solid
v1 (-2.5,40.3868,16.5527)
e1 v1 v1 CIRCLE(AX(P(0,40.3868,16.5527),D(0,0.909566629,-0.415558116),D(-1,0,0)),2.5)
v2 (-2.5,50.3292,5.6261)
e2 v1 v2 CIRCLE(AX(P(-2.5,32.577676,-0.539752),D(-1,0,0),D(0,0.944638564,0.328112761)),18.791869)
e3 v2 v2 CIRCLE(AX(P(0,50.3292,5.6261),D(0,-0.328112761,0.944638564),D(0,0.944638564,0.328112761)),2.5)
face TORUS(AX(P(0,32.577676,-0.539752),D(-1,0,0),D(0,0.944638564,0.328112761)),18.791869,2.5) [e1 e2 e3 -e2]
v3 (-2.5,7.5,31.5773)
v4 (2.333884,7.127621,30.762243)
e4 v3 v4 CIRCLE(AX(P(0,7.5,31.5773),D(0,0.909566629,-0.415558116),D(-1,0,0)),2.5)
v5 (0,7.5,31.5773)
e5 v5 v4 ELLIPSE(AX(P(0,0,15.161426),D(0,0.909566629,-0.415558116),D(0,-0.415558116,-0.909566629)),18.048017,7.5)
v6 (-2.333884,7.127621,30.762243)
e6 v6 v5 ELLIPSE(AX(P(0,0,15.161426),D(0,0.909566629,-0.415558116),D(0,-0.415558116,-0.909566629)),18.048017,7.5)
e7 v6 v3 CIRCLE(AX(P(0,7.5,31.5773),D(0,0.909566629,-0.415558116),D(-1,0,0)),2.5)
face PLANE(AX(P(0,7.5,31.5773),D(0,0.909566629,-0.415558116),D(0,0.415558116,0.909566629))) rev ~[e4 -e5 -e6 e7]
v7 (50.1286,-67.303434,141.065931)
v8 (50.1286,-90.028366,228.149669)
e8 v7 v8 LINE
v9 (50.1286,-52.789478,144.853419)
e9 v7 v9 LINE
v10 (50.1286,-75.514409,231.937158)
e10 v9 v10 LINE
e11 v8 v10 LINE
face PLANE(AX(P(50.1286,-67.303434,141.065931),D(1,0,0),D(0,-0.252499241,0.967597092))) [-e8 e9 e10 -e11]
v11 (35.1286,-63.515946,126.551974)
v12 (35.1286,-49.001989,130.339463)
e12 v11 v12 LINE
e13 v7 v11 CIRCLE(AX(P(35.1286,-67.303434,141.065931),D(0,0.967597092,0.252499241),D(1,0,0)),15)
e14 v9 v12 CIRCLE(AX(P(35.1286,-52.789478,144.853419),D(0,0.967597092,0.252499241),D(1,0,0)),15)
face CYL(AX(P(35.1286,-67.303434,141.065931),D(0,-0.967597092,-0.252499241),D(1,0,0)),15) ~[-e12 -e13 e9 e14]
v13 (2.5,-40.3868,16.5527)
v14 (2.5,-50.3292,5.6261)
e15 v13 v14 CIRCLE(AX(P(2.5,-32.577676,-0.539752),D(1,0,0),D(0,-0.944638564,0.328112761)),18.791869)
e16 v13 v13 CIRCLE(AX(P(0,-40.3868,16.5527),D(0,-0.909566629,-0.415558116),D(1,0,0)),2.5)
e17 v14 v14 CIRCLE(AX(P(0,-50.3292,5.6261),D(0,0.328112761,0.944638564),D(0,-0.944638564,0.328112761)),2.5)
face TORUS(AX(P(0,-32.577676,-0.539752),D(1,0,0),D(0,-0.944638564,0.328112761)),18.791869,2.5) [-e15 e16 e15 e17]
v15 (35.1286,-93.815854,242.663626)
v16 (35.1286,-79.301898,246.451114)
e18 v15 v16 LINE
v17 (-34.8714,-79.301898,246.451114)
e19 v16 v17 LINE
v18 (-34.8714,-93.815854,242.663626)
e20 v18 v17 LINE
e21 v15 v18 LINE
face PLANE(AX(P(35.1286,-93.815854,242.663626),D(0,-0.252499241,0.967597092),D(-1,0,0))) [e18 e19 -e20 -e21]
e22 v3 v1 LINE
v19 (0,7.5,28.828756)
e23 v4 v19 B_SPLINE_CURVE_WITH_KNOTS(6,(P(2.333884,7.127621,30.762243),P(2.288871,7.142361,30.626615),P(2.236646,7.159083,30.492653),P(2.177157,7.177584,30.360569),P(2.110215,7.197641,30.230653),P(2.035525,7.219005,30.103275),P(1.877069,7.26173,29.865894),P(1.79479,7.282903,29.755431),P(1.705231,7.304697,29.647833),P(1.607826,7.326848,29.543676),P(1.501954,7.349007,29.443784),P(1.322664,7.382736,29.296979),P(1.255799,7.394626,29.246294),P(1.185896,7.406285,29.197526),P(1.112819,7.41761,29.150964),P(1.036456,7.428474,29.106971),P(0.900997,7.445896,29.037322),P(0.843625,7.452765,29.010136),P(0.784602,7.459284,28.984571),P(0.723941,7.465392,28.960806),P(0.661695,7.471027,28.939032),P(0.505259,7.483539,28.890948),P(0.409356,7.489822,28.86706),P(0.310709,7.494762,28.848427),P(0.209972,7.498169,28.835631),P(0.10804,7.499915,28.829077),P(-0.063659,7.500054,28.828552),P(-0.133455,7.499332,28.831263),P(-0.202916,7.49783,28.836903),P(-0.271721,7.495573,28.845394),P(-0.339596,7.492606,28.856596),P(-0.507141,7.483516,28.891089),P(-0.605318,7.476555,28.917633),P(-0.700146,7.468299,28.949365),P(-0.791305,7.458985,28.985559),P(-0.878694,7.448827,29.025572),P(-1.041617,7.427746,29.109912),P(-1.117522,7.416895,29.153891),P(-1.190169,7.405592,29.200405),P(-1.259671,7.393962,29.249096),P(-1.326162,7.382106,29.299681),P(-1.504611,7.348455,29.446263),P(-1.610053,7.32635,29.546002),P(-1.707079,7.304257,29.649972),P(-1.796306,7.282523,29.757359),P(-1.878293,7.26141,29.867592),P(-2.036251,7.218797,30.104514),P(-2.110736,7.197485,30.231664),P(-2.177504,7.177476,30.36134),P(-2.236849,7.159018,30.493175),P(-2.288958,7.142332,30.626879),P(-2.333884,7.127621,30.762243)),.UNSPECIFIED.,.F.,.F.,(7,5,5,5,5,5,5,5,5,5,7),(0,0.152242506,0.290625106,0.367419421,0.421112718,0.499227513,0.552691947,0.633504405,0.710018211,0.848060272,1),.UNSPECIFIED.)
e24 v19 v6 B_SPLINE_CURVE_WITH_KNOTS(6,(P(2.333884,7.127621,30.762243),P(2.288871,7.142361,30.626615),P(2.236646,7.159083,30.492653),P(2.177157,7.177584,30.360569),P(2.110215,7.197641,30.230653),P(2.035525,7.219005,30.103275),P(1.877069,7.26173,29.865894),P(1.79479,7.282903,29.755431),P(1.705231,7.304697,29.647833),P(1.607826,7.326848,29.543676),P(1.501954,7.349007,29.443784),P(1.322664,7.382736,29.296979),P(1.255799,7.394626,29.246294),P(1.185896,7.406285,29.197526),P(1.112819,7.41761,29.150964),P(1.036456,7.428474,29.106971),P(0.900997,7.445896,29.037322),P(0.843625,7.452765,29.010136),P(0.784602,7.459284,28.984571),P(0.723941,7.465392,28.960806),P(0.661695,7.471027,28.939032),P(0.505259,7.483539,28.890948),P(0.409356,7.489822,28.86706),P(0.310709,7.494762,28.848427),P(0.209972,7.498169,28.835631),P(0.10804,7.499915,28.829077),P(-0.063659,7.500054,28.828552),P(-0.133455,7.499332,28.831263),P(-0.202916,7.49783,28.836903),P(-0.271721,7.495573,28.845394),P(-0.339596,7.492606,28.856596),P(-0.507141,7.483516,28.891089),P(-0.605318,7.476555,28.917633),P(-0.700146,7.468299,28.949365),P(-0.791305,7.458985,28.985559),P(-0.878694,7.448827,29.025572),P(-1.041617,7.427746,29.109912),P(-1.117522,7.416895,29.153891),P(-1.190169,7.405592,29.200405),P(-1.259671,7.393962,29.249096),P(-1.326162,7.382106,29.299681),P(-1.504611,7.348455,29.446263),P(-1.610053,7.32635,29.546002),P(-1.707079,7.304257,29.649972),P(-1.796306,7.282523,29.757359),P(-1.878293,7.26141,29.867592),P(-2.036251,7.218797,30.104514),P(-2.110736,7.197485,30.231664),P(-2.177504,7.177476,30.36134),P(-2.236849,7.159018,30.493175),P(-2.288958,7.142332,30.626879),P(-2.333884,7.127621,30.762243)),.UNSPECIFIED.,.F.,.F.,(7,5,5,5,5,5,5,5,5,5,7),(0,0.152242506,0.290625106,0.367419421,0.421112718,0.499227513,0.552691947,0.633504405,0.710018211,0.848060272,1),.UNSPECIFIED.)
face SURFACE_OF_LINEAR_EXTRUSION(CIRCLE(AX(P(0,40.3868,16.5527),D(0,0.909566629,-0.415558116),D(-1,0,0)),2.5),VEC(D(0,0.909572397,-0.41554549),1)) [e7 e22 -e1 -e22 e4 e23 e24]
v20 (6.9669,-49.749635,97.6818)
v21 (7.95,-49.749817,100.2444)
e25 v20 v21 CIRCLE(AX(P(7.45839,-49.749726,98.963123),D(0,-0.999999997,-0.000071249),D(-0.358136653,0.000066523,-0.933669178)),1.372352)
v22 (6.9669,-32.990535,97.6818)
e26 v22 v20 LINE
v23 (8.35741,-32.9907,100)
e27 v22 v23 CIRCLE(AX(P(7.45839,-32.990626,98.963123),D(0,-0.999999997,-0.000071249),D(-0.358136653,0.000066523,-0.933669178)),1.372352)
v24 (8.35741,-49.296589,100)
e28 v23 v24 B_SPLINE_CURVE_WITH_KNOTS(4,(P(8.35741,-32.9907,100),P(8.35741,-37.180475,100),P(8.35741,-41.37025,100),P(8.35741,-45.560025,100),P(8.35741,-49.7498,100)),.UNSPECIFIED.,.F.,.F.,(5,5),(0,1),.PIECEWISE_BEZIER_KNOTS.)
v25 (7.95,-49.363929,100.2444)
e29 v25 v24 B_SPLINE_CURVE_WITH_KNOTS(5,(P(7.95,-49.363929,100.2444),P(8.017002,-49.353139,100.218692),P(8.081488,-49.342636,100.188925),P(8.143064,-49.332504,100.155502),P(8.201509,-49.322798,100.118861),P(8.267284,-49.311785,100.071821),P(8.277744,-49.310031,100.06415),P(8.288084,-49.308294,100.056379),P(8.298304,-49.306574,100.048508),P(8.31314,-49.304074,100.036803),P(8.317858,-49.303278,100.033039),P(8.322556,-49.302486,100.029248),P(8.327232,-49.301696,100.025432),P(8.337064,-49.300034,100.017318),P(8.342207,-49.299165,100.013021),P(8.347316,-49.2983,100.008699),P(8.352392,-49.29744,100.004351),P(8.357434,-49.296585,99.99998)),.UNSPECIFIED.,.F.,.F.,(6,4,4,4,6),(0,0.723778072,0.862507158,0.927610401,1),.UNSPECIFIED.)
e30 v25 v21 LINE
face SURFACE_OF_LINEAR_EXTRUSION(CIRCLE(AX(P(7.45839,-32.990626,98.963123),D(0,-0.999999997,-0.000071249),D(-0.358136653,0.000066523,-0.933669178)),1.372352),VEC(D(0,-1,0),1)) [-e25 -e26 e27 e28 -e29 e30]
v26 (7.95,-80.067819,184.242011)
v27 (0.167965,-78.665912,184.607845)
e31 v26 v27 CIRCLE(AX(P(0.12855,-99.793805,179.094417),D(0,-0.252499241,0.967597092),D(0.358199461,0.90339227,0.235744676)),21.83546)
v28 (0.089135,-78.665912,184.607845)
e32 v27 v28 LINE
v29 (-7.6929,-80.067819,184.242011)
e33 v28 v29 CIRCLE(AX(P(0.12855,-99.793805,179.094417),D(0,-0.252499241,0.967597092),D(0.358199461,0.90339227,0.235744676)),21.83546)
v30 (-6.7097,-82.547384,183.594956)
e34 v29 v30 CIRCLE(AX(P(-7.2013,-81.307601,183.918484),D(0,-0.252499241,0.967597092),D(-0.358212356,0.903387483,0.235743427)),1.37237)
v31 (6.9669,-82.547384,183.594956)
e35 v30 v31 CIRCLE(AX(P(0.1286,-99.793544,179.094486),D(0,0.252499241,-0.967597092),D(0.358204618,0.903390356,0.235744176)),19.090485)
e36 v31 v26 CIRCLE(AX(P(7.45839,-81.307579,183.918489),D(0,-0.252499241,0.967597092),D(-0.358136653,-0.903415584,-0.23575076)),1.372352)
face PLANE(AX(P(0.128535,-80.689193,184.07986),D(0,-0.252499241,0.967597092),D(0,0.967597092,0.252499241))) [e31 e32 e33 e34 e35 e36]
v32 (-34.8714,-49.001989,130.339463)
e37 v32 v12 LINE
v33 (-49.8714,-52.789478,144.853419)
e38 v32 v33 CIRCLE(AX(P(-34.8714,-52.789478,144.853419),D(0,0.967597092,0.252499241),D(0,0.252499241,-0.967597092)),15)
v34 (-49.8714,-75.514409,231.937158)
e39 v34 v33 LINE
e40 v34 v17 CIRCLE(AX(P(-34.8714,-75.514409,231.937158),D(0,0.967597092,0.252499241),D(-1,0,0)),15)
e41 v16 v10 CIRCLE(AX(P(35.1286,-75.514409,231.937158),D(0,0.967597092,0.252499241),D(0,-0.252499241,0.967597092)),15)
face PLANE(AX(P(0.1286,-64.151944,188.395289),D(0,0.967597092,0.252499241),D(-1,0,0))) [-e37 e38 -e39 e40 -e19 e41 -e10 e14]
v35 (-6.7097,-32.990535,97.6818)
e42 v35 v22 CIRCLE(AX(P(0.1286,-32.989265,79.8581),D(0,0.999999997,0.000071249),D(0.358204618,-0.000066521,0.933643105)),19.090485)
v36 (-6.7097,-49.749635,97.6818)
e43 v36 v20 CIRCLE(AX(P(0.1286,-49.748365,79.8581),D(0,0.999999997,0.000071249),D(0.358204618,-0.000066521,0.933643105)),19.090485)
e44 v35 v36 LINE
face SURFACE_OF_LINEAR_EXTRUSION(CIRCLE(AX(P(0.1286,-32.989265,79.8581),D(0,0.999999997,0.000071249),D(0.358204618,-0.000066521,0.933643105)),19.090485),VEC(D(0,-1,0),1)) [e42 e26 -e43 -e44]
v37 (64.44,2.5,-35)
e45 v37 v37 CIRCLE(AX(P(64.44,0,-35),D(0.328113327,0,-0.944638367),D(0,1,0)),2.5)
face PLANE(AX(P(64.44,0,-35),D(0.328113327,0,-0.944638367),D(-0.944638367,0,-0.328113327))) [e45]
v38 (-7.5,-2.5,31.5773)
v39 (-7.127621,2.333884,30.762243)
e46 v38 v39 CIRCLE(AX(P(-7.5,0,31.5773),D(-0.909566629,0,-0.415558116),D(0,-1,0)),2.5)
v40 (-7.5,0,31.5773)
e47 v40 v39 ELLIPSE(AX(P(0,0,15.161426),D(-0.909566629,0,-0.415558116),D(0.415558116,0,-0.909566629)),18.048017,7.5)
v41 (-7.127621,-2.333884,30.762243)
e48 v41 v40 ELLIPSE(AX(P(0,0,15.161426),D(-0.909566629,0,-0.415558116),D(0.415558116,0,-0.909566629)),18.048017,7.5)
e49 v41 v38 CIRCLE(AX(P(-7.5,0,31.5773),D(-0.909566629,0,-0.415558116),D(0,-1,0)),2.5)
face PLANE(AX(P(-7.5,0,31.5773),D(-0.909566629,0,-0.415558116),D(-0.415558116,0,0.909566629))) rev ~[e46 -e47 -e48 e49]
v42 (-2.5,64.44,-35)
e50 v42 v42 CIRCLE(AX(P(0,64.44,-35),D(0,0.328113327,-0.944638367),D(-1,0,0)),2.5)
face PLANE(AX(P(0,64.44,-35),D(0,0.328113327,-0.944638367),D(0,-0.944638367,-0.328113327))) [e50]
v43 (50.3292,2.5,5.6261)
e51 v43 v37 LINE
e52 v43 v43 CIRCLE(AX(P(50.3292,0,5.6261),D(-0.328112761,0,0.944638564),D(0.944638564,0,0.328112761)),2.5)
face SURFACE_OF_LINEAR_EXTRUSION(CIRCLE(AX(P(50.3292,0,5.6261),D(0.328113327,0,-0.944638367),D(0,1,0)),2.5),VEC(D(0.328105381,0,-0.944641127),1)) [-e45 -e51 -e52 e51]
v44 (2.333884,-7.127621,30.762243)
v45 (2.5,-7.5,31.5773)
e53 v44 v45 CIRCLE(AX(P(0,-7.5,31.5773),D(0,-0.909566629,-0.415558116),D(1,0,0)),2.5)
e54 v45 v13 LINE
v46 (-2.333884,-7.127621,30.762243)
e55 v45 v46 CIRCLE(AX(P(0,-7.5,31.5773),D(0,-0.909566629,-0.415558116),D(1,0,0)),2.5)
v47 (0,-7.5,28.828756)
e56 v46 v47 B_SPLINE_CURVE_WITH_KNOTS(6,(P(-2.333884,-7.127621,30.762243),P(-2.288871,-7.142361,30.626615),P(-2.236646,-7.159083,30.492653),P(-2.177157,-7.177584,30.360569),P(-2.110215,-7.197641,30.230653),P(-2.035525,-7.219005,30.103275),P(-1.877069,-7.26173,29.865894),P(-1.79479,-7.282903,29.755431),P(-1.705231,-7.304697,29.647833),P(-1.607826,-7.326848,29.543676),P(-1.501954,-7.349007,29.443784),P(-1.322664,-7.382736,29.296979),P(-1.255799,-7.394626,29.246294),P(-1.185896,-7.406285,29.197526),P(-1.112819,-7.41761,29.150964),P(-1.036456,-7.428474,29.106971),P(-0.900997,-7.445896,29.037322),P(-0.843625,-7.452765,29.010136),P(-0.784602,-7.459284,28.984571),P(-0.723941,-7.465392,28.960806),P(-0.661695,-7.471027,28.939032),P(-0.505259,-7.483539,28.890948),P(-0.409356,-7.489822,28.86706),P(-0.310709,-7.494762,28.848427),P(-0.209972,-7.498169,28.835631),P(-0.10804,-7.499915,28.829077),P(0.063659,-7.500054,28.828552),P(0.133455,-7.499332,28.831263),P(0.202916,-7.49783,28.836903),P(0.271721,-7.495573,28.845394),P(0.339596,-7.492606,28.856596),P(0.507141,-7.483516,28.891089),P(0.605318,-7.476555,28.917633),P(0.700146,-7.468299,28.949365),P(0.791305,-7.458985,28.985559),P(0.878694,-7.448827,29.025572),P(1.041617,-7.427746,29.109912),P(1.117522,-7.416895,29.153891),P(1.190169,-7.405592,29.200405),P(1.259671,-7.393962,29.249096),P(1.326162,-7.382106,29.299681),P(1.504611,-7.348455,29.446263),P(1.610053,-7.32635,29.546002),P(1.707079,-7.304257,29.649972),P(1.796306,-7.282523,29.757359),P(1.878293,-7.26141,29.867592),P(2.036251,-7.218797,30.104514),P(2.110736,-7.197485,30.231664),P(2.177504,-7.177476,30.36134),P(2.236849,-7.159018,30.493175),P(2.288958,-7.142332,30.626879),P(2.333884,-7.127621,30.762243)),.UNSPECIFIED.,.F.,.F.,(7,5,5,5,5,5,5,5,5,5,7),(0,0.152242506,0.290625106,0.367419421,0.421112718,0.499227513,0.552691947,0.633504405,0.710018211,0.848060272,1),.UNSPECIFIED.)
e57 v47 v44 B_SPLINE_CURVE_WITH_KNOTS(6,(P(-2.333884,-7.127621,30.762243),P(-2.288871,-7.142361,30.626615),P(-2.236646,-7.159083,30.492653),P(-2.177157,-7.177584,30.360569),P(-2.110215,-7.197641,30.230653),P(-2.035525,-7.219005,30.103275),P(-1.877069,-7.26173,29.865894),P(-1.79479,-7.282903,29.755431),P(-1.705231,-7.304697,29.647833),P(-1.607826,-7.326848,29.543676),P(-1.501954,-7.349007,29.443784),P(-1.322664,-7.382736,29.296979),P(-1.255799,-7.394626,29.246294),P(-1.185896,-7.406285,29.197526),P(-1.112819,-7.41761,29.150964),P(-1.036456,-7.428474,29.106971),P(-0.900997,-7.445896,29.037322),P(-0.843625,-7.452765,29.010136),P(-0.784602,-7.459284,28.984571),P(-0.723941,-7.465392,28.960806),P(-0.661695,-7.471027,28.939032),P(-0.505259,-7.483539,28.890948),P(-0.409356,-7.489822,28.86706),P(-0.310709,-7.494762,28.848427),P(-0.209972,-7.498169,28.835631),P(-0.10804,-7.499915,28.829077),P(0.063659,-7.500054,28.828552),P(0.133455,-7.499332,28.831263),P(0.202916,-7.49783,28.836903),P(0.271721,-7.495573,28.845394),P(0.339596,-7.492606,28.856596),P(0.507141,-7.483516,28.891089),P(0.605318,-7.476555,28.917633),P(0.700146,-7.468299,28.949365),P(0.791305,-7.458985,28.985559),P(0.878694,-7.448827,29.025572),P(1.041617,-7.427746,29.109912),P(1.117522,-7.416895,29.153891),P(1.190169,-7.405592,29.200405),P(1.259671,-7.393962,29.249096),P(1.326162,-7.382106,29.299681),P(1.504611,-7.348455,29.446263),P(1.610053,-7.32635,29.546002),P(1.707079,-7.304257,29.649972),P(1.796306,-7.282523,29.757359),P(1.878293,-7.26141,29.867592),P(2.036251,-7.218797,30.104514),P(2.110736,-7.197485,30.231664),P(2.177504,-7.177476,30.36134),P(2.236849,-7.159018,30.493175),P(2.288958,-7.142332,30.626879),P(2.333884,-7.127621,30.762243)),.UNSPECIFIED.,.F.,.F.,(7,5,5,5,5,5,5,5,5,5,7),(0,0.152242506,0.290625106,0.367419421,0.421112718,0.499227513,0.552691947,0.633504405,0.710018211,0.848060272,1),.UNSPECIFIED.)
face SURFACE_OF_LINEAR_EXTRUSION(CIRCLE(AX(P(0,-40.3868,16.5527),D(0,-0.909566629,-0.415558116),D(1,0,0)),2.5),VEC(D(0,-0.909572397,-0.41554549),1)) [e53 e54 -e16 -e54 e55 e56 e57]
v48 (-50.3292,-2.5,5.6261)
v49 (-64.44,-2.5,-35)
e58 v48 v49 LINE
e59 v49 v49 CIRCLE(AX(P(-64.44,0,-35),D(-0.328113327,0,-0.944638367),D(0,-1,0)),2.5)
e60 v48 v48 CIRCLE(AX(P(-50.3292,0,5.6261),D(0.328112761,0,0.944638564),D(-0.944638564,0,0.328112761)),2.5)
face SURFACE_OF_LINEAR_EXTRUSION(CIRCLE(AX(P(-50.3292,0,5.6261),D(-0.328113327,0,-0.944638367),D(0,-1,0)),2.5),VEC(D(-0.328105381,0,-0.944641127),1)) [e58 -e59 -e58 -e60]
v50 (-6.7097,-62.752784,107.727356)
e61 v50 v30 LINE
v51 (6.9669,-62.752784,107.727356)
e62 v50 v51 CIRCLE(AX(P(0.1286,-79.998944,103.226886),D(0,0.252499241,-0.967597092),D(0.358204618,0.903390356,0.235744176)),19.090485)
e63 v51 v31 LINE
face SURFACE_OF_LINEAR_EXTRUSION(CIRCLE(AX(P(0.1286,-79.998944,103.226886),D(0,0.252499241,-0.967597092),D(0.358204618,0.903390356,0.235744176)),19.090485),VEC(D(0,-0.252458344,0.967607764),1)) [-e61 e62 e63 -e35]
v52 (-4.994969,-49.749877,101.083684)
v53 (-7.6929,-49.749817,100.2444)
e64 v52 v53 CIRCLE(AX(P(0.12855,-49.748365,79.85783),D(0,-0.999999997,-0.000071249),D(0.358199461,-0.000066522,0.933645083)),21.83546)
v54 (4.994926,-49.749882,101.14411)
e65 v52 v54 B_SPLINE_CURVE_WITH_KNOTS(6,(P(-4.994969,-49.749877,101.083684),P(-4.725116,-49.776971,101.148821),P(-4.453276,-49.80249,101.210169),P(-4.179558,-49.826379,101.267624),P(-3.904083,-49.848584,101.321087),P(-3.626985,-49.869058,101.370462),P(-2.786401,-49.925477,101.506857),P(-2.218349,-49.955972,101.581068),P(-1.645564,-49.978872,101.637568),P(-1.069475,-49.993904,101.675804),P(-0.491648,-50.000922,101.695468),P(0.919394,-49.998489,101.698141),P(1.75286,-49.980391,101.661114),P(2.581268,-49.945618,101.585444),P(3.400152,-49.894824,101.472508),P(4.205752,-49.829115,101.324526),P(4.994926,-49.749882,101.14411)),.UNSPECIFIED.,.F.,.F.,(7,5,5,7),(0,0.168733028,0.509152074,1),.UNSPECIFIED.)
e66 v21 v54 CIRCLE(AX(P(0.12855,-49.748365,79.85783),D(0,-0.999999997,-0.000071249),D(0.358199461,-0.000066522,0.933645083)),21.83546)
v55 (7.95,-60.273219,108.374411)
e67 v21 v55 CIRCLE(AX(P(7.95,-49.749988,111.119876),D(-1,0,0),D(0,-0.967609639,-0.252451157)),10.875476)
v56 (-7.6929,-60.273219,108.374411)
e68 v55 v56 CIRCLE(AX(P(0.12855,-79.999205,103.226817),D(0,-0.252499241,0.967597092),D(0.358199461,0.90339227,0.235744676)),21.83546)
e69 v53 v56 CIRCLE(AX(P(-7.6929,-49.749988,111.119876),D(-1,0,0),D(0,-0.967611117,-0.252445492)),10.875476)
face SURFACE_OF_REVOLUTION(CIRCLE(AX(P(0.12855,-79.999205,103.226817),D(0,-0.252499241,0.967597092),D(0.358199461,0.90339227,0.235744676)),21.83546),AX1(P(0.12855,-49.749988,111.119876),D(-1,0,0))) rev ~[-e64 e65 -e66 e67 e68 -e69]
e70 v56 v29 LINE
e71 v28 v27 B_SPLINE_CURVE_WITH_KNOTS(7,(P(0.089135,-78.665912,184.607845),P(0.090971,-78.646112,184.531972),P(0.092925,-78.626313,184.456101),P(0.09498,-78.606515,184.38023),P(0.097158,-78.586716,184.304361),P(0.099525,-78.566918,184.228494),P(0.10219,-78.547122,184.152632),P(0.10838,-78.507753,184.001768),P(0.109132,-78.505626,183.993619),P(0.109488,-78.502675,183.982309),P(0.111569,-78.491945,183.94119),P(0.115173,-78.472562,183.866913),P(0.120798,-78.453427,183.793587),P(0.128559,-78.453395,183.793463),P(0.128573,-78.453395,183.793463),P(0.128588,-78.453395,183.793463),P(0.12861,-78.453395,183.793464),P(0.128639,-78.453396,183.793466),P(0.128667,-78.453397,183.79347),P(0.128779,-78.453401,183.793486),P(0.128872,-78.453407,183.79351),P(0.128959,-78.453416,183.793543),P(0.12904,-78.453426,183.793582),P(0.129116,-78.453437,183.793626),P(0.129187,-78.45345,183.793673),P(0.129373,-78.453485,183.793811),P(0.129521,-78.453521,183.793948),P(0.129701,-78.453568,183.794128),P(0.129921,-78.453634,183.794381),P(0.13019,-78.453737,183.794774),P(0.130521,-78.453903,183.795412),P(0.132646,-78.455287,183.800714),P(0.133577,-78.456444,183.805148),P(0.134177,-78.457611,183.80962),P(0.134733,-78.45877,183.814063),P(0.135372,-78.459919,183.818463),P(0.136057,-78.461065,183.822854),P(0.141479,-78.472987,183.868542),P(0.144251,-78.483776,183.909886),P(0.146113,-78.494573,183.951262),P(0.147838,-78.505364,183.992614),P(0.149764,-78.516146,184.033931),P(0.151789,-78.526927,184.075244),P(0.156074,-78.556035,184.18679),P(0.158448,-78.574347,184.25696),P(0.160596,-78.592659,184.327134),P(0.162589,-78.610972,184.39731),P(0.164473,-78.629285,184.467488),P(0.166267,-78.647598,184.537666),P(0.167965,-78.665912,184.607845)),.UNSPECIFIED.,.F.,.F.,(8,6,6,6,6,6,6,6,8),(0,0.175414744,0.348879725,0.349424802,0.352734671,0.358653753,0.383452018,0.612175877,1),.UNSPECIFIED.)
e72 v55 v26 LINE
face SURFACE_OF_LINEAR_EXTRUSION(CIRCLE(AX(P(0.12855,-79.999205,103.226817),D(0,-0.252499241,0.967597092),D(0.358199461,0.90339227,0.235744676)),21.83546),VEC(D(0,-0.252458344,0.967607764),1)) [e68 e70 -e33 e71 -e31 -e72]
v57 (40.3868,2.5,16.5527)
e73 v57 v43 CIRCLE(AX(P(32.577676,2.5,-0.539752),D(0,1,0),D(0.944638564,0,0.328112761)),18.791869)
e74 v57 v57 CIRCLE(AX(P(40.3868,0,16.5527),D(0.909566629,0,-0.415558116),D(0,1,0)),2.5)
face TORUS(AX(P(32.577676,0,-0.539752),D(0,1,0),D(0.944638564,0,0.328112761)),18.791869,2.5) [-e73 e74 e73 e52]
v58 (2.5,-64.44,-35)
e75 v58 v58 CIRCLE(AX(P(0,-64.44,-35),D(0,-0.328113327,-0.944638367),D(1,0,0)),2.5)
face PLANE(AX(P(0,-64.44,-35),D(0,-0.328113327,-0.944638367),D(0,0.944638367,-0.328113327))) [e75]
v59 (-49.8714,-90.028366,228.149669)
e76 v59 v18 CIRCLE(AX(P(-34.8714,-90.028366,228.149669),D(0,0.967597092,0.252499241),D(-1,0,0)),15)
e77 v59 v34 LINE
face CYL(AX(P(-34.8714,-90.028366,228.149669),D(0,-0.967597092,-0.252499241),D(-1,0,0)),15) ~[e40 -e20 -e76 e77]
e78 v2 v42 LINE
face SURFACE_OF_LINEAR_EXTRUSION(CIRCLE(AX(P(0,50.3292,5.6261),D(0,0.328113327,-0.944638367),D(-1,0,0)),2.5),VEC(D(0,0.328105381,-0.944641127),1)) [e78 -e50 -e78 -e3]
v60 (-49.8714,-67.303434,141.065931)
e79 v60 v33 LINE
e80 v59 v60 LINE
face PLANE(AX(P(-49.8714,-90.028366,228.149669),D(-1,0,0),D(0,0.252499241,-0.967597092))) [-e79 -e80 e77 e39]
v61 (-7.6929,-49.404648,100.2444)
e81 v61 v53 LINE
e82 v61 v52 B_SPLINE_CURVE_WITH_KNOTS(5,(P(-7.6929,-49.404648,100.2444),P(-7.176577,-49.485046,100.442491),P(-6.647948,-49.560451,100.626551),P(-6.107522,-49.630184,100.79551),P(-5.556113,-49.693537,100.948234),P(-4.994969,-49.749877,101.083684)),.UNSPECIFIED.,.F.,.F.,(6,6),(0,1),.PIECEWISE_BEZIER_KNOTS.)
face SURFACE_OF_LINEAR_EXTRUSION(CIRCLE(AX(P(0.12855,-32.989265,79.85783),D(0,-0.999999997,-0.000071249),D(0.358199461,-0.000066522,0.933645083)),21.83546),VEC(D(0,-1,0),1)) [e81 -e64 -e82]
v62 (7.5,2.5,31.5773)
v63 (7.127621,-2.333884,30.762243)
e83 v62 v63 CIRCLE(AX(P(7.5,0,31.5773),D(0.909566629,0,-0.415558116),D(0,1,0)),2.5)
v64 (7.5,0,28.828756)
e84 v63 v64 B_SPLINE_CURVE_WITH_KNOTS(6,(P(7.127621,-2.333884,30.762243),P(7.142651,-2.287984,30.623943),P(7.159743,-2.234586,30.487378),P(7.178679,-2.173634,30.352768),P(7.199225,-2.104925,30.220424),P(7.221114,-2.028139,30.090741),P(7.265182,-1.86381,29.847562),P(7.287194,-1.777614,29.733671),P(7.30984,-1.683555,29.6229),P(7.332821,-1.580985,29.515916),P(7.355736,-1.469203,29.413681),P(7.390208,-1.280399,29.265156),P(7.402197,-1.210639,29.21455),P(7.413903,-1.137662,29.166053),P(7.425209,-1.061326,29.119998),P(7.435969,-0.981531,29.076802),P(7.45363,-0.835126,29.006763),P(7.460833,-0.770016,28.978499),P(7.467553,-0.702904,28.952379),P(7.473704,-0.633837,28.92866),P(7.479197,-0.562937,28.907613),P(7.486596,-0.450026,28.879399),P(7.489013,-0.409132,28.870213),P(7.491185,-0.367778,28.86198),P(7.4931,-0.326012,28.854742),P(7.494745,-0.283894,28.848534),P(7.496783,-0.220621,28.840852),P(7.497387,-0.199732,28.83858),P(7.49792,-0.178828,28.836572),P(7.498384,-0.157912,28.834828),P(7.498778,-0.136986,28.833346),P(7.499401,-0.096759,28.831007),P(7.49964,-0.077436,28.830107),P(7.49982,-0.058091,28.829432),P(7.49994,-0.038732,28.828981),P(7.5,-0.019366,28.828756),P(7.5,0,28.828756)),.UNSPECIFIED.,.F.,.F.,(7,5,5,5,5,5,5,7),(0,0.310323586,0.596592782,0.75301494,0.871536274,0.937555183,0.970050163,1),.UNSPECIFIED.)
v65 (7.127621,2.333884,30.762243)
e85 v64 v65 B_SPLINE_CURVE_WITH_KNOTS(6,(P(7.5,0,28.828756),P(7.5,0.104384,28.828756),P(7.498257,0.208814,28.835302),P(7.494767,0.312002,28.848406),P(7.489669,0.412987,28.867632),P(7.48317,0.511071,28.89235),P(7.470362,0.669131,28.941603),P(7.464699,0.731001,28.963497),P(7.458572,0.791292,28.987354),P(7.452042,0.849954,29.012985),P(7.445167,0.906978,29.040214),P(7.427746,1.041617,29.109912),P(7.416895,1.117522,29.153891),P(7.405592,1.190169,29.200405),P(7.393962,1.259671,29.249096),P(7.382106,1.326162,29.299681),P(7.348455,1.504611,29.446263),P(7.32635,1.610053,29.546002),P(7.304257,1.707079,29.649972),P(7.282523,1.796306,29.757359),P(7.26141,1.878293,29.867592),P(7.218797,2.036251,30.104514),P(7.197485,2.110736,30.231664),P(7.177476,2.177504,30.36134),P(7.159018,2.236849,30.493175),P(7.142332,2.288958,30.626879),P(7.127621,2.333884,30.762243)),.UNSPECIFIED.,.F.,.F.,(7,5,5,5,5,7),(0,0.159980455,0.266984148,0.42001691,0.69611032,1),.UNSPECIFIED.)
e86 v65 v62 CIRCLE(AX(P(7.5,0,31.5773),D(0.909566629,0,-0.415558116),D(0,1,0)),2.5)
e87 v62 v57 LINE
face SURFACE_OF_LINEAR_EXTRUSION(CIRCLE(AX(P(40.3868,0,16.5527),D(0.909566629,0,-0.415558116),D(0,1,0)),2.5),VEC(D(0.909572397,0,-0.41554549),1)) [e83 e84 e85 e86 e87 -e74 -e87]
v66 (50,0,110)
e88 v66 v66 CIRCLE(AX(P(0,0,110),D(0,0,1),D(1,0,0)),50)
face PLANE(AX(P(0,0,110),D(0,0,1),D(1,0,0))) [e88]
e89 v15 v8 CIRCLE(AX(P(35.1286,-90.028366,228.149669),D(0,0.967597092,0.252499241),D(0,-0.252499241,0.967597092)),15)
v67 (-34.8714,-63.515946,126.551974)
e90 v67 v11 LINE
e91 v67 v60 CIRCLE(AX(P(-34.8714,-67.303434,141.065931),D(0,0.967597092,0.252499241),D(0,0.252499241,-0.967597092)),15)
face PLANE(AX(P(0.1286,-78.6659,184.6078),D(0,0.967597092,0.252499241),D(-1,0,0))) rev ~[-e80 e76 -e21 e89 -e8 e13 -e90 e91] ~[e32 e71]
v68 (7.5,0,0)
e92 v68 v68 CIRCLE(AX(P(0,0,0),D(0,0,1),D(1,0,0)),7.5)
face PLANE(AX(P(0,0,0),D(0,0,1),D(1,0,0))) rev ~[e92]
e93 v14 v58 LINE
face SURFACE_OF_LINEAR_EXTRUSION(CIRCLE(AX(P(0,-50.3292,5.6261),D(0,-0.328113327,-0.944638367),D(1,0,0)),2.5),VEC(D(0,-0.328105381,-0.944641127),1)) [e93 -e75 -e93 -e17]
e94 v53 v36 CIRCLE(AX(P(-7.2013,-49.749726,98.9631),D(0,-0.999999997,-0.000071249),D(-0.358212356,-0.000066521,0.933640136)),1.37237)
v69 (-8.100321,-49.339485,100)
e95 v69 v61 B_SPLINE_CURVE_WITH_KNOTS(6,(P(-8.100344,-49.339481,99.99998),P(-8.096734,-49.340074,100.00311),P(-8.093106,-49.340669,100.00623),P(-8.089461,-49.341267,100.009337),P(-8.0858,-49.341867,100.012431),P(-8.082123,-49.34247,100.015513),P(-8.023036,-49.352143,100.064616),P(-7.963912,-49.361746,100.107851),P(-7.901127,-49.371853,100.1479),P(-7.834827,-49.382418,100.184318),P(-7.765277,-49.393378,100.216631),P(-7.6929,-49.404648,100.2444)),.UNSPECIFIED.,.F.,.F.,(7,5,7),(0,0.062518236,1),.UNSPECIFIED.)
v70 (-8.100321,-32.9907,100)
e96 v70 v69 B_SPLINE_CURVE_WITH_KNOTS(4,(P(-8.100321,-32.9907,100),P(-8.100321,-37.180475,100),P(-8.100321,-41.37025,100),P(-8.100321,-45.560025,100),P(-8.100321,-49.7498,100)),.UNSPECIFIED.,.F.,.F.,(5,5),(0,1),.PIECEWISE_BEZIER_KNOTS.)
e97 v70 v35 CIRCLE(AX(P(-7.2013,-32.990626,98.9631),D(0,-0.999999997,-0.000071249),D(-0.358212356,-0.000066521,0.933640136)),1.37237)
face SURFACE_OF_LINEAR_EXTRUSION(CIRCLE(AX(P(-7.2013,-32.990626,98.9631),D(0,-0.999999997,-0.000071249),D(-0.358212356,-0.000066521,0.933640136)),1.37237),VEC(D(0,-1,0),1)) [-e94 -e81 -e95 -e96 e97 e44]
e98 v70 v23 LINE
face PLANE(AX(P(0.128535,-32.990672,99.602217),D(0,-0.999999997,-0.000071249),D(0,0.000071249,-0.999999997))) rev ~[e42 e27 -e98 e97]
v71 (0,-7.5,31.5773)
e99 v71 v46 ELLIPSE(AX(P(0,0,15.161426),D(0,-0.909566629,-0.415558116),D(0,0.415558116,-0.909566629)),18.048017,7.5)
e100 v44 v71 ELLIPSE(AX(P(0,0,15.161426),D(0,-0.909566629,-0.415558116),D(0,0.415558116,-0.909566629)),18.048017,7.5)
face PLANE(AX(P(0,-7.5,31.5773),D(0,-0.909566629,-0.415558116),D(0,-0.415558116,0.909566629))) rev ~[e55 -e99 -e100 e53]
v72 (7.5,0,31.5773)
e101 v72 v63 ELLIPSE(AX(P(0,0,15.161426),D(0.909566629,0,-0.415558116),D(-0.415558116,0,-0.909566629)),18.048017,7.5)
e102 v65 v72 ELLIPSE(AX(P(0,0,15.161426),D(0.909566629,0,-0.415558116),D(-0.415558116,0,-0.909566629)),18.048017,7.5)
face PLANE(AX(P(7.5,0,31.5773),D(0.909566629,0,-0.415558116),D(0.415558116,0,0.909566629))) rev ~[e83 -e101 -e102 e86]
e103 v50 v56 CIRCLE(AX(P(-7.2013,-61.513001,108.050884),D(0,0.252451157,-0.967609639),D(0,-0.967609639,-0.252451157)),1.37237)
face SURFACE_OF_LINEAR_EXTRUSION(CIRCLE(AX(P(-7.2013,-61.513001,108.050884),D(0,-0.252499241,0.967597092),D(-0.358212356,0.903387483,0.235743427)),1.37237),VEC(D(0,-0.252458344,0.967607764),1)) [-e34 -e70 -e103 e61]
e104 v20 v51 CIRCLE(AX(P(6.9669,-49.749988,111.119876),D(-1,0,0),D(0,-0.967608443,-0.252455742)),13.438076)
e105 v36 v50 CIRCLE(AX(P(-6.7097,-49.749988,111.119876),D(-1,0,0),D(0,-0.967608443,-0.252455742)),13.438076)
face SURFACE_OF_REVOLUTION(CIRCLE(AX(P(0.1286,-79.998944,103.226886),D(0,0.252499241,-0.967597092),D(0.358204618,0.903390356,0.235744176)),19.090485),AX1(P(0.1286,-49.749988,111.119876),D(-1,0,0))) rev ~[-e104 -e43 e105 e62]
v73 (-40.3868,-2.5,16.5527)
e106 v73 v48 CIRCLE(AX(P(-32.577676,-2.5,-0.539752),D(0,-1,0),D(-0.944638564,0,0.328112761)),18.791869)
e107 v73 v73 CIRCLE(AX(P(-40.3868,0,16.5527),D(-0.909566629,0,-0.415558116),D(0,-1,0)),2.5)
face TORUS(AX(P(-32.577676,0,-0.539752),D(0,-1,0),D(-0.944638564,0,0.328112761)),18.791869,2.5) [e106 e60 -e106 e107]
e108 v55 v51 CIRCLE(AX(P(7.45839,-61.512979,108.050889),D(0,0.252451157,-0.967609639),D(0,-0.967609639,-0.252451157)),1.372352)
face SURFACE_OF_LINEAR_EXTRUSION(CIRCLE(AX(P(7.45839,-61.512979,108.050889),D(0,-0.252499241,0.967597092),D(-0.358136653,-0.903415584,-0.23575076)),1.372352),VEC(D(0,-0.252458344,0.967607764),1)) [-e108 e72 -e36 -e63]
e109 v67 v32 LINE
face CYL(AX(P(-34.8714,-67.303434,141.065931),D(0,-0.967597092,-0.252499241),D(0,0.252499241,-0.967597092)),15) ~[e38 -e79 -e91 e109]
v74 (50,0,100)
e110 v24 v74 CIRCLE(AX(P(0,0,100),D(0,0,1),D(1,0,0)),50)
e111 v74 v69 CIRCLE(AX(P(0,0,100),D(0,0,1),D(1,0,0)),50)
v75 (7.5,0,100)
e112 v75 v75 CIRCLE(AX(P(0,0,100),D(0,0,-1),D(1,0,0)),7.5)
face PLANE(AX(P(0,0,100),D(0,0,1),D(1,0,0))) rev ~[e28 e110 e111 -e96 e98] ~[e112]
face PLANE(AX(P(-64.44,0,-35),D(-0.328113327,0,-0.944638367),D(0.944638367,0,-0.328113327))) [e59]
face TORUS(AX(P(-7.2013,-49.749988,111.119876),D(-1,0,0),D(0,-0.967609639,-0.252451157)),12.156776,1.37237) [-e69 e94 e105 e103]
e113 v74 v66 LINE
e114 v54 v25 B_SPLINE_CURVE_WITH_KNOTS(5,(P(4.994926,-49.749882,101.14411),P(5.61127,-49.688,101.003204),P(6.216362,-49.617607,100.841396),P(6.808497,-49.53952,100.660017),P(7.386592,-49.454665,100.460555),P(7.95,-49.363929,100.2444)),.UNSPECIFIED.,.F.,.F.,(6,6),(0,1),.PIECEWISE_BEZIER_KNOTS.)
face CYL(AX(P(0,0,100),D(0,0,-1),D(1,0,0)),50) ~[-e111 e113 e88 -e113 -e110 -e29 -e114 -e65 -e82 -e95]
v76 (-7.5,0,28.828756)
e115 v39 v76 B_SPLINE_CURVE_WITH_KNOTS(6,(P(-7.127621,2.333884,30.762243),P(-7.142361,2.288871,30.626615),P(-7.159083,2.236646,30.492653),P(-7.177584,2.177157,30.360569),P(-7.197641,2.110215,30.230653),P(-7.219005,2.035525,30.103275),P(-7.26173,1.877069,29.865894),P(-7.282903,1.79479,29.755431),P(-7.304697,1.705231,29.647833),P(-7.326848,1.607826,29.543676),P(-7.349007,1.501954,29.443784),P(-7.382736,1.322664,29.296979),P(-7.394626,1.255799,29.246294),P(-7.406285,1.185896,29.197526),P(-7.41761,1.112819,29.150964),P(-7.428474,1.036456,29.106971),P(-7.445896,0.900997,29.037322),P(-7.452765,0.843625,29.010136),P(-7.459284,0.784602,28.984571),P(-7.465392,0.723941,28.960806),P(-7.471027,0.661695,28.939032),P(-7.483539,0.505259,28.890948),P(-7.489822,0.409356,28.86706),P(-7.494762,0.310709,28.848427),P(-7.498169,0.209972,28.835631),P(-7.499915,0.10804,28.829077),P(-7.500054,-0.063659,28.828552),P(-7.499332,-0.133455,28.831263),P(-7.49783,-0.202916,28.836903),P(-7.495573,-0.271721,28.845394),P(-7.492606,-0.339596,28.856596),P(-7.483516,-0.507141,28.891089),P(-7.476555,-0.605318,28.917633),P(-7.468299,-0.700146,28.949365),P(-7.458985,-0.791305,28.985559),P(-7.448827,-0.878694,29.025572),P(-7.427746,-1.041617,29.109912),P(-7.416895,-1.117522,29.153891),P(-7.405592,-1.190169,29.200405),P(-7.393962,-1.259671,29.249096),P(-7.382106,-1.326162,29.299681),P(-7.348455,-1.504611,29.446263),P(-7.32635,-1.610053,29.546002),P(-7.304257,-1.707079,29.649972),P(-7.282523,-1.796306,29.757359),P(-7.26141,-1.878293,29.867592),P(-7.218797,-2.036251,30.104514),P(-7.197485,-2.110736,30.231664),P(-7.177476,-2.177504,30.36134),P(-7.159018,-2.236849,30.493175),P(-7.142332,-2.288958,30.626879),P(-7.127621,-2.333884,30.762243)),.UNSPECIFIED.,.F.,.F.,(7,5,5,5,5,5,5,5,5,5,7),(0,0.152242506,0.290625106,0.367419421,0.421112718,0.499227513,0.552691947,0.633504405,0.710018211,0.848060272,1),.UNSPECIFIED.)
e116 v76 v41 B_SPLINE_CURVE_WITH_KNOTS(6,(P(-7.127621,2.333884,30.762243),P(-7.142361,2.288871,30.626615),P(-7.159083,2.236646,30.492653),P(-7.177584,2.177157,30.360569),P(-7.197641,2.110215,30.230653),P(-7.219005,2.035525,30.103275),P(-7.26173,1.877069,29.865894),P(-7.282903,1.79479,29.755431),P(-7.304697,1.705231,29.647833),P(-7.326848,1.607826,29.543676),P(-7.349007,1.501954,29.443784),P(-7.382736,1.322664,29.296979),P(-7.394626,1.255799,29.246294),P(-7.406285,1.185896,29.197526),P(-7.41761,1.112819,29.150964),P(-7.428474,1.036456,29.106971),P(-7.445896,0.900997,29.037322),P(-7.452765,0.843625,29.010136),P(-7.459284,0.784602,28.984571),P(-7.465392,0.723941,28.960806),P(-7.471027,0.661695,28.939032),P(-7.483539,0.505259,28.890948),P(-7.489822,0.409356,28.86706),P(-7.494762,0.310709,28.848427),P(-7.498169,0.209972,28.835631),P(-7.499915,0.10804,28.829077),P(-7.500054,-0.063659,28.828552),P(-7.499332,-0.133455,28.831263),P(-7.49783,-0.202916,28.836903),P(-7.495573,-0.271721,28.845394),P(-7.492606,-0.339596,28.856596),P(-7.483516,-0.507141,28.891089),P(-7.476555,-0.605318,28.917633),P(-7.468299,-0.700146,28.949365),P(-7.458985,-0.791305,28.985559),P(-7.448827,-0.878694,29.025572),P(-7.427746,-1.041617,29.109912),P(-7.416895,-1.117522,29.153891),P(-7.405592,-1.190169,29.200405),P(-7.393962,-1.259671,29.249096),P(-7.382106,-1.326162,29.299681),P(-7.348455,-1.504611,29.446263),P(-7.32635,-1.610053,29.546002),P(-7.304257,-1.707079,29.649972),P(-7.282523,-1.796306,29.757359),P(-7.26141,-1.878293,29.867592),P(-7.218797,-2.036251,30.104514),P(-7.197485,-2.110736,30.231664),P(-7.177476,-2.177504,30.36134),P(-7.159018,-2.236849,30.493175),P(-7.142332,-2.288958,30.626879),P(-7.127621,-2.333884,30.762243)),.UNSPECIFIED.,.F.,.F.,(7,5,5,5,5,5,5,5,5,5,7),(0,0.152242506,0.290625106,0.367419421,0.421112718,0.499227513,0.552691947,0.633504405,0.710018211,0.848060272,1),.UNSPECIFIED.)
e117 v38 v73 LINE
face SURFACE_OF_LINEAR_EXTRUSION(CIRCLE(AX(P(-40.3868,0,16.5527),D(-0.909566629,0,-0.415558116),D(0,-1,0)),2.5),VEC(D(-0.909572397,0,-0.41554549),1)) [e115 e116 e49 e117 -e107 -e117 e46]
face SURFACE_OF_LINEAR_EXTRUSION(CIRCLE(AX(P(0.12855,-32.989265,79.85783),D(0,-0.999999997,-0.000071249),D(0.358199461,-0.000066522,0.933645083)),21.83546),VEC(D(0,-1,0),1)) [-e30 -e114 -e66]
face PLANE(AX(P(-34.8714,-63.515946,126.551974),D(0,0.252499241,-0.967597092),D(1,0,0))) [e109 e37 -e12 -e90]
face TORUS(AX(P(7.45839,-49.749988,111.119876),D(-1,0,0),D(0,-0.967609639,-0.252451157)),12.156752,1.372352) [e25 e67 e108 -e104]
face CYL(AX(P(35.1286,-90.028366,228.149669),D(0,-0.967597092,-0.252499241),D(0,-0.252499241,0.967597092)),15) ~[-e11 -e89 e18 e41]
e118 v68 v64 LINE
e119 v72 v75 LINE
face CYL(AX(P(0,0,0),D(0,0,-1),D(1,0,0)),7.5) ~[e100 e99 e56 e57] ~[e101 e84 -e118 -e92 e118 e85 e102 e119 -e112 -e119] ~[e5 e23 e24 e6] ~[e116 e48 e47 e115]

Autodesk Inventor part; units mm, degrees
ref_plane "YZ Plane" through (0, 0, 0) normal (1, 0, 0) x (0, 1, 0)
sketch "Sketch1" plane through (0, 0, 0) normal (0, 0, 1) x (1, 0, 0)
  circle A0 centre (0, 0) radius 7.5
  dimension "d0" = 15
extrude "Extrusion1" add sketch "Sketch1" along normal blind 100
sketch "Sketch2" plane through (0, 0, 100) normal (0, 0, 1) x (1, 0, 0)
  circle A0 centre (0, 0) radius 50
  dimension "d3" = 100
extrude "Extrusion2" add sketch "Sketch2" along normal blind 10
sketch "Sketch3" plane through (0, 0, 0) normal (1, 0, 0) x (0, 1, 0)
  line L0 (-7.5, 0) -> (7.5, 0) projected
  line L1 (7.5, 0) -> (7.5, 100) projected
  arc A0 (50.3292, 5.6261) -> (40.3868, 16.5527) centre (32.5781, -0.5395) ccw
  line L2 (50.3292, 5.6261) -> (64.44, -35)
  line L3 (40.3868, 16.5527) -> (7.5, 31.5773)
  line L4 (7.5, 0) -> (7.5, 100) projected
  point P0 (0, 0)
  point P1 (0, 0)
  dimension "d14" = 64.44
  dimension "d15" = 35
ref_plane "Work Plane1" through (0, 64.44, -35) normal (0, 0.3281, -0.9446) x (-1, 0, 0)
sketch "Sketch4" plane through (0, 64.44, -35) normal (0, 0.3281, -0.9446) x (-1, 0, 0)
  circle A0 centre (0, 0) radius 2.5
  point P0 (0, -49.389)
  dimension "d7" = 5
sweep "Sweep1" add profiles "Sketch4" path "Sketch3" path curves L2 A0 L3
pattern_circular "Circular Pattern1" count 4 over 360 about axis through (0, 0, 0) along (0, 0, 1) of "Sweep1", "Extrusion1"
sketch "Sketch5" plane through (0, 0, 0) normal (1, 0, 0) x (0, 1, 0)
  line L0 (-50, 100) -> (50, 100) projected
  line L1 (-32.9907, 100) -> (-49.7498, 100)
  arc A0 (-60.5097, 108.3127) -> (-49.7498, 100) centre (-49.7498, 111.12) ccw
  line L2 (-60.5097, 108.3127) -> (-80.3043, 184.1803)
  point P0 (0, 0)
ref_plane "Work Plane2" through (0, -80.3043, 184.1803) normal (0, -0.2525, 0.9676) x (1, 0, 0)
sketch "Sketch6" plane through (0, -80.3043, 184.1803) normal (0, -0.2525, 0.9676) x (1, 0, 0)
  arc A0 (6.9669, -2.3182) -> (-6.7097, -2.3182) centre (0.1286, -20.1419) ccw
  arc A1 (7.95, 0.2444) -> (-7.6929, 0.2444) centre (0.1286, -20.1419) ccw
  arc A2 (-7.6929, 0.2444) -> (-6.7097, -2.3182) centre (-7.2013, -1.0369) ccw
  arc A3 (6.9669, -2.3182) -> (7.95, 0.2444) centre (7.4584, -1.0369) ccw
  point P0 (0, 31.2052)
sweep "Sweep2" add profiles "Sketch6" path "Sketch5" path curves L2 A0 L1
ref_plane "Work Plane3" through (0.1286, -78.6659, 184.6078) normal (0, 0.9676, 0.2525) x (-1, 0, 0)
sketch "Sketch7" plane through (0.1286, -78.6659, 184.6078) normal (0, 0.9676, 0.2525) x (-1, 0, 0)
  line L0 (35, -60) -> (-35, -60)
  line L1 (-50, -45) -> (-50, 45)
  line L2 (-35, 60) -> (35, 60)
  line L3 (50, 45) -> (50, -45)
  line L4 (-7.8215, 0) -> (7.8215, 0) projected
  arc A0 (35, -60) -> (50, -45) centre (35, -45) ccw
  arc A1 (-50, -45) -> (-35, -60) centre (-35, -45) ccw
  arc A2 (50, 45) -> (35, 60) centre (35, 45) ccw
  arc A3 (-35, 60) -> (-50, 45) centre (-35, 45) ccw
  point P0 (0.1286, -198.4878)
  point P1 (-50, 60)
  point P2 (-50, -60)
  point P3 (50, 60)
  point P4 (0, 0)
  point P5 (0, 60)
  dimension "d18" = 60
  dimension "d19" = 120
  dimension "d20" = 100
  dimension "d21" = 15
extrude "Extrusion3" add sketch "Sketch7" along normal blind 15
properties part number "Chair_Orientation_Rest"
